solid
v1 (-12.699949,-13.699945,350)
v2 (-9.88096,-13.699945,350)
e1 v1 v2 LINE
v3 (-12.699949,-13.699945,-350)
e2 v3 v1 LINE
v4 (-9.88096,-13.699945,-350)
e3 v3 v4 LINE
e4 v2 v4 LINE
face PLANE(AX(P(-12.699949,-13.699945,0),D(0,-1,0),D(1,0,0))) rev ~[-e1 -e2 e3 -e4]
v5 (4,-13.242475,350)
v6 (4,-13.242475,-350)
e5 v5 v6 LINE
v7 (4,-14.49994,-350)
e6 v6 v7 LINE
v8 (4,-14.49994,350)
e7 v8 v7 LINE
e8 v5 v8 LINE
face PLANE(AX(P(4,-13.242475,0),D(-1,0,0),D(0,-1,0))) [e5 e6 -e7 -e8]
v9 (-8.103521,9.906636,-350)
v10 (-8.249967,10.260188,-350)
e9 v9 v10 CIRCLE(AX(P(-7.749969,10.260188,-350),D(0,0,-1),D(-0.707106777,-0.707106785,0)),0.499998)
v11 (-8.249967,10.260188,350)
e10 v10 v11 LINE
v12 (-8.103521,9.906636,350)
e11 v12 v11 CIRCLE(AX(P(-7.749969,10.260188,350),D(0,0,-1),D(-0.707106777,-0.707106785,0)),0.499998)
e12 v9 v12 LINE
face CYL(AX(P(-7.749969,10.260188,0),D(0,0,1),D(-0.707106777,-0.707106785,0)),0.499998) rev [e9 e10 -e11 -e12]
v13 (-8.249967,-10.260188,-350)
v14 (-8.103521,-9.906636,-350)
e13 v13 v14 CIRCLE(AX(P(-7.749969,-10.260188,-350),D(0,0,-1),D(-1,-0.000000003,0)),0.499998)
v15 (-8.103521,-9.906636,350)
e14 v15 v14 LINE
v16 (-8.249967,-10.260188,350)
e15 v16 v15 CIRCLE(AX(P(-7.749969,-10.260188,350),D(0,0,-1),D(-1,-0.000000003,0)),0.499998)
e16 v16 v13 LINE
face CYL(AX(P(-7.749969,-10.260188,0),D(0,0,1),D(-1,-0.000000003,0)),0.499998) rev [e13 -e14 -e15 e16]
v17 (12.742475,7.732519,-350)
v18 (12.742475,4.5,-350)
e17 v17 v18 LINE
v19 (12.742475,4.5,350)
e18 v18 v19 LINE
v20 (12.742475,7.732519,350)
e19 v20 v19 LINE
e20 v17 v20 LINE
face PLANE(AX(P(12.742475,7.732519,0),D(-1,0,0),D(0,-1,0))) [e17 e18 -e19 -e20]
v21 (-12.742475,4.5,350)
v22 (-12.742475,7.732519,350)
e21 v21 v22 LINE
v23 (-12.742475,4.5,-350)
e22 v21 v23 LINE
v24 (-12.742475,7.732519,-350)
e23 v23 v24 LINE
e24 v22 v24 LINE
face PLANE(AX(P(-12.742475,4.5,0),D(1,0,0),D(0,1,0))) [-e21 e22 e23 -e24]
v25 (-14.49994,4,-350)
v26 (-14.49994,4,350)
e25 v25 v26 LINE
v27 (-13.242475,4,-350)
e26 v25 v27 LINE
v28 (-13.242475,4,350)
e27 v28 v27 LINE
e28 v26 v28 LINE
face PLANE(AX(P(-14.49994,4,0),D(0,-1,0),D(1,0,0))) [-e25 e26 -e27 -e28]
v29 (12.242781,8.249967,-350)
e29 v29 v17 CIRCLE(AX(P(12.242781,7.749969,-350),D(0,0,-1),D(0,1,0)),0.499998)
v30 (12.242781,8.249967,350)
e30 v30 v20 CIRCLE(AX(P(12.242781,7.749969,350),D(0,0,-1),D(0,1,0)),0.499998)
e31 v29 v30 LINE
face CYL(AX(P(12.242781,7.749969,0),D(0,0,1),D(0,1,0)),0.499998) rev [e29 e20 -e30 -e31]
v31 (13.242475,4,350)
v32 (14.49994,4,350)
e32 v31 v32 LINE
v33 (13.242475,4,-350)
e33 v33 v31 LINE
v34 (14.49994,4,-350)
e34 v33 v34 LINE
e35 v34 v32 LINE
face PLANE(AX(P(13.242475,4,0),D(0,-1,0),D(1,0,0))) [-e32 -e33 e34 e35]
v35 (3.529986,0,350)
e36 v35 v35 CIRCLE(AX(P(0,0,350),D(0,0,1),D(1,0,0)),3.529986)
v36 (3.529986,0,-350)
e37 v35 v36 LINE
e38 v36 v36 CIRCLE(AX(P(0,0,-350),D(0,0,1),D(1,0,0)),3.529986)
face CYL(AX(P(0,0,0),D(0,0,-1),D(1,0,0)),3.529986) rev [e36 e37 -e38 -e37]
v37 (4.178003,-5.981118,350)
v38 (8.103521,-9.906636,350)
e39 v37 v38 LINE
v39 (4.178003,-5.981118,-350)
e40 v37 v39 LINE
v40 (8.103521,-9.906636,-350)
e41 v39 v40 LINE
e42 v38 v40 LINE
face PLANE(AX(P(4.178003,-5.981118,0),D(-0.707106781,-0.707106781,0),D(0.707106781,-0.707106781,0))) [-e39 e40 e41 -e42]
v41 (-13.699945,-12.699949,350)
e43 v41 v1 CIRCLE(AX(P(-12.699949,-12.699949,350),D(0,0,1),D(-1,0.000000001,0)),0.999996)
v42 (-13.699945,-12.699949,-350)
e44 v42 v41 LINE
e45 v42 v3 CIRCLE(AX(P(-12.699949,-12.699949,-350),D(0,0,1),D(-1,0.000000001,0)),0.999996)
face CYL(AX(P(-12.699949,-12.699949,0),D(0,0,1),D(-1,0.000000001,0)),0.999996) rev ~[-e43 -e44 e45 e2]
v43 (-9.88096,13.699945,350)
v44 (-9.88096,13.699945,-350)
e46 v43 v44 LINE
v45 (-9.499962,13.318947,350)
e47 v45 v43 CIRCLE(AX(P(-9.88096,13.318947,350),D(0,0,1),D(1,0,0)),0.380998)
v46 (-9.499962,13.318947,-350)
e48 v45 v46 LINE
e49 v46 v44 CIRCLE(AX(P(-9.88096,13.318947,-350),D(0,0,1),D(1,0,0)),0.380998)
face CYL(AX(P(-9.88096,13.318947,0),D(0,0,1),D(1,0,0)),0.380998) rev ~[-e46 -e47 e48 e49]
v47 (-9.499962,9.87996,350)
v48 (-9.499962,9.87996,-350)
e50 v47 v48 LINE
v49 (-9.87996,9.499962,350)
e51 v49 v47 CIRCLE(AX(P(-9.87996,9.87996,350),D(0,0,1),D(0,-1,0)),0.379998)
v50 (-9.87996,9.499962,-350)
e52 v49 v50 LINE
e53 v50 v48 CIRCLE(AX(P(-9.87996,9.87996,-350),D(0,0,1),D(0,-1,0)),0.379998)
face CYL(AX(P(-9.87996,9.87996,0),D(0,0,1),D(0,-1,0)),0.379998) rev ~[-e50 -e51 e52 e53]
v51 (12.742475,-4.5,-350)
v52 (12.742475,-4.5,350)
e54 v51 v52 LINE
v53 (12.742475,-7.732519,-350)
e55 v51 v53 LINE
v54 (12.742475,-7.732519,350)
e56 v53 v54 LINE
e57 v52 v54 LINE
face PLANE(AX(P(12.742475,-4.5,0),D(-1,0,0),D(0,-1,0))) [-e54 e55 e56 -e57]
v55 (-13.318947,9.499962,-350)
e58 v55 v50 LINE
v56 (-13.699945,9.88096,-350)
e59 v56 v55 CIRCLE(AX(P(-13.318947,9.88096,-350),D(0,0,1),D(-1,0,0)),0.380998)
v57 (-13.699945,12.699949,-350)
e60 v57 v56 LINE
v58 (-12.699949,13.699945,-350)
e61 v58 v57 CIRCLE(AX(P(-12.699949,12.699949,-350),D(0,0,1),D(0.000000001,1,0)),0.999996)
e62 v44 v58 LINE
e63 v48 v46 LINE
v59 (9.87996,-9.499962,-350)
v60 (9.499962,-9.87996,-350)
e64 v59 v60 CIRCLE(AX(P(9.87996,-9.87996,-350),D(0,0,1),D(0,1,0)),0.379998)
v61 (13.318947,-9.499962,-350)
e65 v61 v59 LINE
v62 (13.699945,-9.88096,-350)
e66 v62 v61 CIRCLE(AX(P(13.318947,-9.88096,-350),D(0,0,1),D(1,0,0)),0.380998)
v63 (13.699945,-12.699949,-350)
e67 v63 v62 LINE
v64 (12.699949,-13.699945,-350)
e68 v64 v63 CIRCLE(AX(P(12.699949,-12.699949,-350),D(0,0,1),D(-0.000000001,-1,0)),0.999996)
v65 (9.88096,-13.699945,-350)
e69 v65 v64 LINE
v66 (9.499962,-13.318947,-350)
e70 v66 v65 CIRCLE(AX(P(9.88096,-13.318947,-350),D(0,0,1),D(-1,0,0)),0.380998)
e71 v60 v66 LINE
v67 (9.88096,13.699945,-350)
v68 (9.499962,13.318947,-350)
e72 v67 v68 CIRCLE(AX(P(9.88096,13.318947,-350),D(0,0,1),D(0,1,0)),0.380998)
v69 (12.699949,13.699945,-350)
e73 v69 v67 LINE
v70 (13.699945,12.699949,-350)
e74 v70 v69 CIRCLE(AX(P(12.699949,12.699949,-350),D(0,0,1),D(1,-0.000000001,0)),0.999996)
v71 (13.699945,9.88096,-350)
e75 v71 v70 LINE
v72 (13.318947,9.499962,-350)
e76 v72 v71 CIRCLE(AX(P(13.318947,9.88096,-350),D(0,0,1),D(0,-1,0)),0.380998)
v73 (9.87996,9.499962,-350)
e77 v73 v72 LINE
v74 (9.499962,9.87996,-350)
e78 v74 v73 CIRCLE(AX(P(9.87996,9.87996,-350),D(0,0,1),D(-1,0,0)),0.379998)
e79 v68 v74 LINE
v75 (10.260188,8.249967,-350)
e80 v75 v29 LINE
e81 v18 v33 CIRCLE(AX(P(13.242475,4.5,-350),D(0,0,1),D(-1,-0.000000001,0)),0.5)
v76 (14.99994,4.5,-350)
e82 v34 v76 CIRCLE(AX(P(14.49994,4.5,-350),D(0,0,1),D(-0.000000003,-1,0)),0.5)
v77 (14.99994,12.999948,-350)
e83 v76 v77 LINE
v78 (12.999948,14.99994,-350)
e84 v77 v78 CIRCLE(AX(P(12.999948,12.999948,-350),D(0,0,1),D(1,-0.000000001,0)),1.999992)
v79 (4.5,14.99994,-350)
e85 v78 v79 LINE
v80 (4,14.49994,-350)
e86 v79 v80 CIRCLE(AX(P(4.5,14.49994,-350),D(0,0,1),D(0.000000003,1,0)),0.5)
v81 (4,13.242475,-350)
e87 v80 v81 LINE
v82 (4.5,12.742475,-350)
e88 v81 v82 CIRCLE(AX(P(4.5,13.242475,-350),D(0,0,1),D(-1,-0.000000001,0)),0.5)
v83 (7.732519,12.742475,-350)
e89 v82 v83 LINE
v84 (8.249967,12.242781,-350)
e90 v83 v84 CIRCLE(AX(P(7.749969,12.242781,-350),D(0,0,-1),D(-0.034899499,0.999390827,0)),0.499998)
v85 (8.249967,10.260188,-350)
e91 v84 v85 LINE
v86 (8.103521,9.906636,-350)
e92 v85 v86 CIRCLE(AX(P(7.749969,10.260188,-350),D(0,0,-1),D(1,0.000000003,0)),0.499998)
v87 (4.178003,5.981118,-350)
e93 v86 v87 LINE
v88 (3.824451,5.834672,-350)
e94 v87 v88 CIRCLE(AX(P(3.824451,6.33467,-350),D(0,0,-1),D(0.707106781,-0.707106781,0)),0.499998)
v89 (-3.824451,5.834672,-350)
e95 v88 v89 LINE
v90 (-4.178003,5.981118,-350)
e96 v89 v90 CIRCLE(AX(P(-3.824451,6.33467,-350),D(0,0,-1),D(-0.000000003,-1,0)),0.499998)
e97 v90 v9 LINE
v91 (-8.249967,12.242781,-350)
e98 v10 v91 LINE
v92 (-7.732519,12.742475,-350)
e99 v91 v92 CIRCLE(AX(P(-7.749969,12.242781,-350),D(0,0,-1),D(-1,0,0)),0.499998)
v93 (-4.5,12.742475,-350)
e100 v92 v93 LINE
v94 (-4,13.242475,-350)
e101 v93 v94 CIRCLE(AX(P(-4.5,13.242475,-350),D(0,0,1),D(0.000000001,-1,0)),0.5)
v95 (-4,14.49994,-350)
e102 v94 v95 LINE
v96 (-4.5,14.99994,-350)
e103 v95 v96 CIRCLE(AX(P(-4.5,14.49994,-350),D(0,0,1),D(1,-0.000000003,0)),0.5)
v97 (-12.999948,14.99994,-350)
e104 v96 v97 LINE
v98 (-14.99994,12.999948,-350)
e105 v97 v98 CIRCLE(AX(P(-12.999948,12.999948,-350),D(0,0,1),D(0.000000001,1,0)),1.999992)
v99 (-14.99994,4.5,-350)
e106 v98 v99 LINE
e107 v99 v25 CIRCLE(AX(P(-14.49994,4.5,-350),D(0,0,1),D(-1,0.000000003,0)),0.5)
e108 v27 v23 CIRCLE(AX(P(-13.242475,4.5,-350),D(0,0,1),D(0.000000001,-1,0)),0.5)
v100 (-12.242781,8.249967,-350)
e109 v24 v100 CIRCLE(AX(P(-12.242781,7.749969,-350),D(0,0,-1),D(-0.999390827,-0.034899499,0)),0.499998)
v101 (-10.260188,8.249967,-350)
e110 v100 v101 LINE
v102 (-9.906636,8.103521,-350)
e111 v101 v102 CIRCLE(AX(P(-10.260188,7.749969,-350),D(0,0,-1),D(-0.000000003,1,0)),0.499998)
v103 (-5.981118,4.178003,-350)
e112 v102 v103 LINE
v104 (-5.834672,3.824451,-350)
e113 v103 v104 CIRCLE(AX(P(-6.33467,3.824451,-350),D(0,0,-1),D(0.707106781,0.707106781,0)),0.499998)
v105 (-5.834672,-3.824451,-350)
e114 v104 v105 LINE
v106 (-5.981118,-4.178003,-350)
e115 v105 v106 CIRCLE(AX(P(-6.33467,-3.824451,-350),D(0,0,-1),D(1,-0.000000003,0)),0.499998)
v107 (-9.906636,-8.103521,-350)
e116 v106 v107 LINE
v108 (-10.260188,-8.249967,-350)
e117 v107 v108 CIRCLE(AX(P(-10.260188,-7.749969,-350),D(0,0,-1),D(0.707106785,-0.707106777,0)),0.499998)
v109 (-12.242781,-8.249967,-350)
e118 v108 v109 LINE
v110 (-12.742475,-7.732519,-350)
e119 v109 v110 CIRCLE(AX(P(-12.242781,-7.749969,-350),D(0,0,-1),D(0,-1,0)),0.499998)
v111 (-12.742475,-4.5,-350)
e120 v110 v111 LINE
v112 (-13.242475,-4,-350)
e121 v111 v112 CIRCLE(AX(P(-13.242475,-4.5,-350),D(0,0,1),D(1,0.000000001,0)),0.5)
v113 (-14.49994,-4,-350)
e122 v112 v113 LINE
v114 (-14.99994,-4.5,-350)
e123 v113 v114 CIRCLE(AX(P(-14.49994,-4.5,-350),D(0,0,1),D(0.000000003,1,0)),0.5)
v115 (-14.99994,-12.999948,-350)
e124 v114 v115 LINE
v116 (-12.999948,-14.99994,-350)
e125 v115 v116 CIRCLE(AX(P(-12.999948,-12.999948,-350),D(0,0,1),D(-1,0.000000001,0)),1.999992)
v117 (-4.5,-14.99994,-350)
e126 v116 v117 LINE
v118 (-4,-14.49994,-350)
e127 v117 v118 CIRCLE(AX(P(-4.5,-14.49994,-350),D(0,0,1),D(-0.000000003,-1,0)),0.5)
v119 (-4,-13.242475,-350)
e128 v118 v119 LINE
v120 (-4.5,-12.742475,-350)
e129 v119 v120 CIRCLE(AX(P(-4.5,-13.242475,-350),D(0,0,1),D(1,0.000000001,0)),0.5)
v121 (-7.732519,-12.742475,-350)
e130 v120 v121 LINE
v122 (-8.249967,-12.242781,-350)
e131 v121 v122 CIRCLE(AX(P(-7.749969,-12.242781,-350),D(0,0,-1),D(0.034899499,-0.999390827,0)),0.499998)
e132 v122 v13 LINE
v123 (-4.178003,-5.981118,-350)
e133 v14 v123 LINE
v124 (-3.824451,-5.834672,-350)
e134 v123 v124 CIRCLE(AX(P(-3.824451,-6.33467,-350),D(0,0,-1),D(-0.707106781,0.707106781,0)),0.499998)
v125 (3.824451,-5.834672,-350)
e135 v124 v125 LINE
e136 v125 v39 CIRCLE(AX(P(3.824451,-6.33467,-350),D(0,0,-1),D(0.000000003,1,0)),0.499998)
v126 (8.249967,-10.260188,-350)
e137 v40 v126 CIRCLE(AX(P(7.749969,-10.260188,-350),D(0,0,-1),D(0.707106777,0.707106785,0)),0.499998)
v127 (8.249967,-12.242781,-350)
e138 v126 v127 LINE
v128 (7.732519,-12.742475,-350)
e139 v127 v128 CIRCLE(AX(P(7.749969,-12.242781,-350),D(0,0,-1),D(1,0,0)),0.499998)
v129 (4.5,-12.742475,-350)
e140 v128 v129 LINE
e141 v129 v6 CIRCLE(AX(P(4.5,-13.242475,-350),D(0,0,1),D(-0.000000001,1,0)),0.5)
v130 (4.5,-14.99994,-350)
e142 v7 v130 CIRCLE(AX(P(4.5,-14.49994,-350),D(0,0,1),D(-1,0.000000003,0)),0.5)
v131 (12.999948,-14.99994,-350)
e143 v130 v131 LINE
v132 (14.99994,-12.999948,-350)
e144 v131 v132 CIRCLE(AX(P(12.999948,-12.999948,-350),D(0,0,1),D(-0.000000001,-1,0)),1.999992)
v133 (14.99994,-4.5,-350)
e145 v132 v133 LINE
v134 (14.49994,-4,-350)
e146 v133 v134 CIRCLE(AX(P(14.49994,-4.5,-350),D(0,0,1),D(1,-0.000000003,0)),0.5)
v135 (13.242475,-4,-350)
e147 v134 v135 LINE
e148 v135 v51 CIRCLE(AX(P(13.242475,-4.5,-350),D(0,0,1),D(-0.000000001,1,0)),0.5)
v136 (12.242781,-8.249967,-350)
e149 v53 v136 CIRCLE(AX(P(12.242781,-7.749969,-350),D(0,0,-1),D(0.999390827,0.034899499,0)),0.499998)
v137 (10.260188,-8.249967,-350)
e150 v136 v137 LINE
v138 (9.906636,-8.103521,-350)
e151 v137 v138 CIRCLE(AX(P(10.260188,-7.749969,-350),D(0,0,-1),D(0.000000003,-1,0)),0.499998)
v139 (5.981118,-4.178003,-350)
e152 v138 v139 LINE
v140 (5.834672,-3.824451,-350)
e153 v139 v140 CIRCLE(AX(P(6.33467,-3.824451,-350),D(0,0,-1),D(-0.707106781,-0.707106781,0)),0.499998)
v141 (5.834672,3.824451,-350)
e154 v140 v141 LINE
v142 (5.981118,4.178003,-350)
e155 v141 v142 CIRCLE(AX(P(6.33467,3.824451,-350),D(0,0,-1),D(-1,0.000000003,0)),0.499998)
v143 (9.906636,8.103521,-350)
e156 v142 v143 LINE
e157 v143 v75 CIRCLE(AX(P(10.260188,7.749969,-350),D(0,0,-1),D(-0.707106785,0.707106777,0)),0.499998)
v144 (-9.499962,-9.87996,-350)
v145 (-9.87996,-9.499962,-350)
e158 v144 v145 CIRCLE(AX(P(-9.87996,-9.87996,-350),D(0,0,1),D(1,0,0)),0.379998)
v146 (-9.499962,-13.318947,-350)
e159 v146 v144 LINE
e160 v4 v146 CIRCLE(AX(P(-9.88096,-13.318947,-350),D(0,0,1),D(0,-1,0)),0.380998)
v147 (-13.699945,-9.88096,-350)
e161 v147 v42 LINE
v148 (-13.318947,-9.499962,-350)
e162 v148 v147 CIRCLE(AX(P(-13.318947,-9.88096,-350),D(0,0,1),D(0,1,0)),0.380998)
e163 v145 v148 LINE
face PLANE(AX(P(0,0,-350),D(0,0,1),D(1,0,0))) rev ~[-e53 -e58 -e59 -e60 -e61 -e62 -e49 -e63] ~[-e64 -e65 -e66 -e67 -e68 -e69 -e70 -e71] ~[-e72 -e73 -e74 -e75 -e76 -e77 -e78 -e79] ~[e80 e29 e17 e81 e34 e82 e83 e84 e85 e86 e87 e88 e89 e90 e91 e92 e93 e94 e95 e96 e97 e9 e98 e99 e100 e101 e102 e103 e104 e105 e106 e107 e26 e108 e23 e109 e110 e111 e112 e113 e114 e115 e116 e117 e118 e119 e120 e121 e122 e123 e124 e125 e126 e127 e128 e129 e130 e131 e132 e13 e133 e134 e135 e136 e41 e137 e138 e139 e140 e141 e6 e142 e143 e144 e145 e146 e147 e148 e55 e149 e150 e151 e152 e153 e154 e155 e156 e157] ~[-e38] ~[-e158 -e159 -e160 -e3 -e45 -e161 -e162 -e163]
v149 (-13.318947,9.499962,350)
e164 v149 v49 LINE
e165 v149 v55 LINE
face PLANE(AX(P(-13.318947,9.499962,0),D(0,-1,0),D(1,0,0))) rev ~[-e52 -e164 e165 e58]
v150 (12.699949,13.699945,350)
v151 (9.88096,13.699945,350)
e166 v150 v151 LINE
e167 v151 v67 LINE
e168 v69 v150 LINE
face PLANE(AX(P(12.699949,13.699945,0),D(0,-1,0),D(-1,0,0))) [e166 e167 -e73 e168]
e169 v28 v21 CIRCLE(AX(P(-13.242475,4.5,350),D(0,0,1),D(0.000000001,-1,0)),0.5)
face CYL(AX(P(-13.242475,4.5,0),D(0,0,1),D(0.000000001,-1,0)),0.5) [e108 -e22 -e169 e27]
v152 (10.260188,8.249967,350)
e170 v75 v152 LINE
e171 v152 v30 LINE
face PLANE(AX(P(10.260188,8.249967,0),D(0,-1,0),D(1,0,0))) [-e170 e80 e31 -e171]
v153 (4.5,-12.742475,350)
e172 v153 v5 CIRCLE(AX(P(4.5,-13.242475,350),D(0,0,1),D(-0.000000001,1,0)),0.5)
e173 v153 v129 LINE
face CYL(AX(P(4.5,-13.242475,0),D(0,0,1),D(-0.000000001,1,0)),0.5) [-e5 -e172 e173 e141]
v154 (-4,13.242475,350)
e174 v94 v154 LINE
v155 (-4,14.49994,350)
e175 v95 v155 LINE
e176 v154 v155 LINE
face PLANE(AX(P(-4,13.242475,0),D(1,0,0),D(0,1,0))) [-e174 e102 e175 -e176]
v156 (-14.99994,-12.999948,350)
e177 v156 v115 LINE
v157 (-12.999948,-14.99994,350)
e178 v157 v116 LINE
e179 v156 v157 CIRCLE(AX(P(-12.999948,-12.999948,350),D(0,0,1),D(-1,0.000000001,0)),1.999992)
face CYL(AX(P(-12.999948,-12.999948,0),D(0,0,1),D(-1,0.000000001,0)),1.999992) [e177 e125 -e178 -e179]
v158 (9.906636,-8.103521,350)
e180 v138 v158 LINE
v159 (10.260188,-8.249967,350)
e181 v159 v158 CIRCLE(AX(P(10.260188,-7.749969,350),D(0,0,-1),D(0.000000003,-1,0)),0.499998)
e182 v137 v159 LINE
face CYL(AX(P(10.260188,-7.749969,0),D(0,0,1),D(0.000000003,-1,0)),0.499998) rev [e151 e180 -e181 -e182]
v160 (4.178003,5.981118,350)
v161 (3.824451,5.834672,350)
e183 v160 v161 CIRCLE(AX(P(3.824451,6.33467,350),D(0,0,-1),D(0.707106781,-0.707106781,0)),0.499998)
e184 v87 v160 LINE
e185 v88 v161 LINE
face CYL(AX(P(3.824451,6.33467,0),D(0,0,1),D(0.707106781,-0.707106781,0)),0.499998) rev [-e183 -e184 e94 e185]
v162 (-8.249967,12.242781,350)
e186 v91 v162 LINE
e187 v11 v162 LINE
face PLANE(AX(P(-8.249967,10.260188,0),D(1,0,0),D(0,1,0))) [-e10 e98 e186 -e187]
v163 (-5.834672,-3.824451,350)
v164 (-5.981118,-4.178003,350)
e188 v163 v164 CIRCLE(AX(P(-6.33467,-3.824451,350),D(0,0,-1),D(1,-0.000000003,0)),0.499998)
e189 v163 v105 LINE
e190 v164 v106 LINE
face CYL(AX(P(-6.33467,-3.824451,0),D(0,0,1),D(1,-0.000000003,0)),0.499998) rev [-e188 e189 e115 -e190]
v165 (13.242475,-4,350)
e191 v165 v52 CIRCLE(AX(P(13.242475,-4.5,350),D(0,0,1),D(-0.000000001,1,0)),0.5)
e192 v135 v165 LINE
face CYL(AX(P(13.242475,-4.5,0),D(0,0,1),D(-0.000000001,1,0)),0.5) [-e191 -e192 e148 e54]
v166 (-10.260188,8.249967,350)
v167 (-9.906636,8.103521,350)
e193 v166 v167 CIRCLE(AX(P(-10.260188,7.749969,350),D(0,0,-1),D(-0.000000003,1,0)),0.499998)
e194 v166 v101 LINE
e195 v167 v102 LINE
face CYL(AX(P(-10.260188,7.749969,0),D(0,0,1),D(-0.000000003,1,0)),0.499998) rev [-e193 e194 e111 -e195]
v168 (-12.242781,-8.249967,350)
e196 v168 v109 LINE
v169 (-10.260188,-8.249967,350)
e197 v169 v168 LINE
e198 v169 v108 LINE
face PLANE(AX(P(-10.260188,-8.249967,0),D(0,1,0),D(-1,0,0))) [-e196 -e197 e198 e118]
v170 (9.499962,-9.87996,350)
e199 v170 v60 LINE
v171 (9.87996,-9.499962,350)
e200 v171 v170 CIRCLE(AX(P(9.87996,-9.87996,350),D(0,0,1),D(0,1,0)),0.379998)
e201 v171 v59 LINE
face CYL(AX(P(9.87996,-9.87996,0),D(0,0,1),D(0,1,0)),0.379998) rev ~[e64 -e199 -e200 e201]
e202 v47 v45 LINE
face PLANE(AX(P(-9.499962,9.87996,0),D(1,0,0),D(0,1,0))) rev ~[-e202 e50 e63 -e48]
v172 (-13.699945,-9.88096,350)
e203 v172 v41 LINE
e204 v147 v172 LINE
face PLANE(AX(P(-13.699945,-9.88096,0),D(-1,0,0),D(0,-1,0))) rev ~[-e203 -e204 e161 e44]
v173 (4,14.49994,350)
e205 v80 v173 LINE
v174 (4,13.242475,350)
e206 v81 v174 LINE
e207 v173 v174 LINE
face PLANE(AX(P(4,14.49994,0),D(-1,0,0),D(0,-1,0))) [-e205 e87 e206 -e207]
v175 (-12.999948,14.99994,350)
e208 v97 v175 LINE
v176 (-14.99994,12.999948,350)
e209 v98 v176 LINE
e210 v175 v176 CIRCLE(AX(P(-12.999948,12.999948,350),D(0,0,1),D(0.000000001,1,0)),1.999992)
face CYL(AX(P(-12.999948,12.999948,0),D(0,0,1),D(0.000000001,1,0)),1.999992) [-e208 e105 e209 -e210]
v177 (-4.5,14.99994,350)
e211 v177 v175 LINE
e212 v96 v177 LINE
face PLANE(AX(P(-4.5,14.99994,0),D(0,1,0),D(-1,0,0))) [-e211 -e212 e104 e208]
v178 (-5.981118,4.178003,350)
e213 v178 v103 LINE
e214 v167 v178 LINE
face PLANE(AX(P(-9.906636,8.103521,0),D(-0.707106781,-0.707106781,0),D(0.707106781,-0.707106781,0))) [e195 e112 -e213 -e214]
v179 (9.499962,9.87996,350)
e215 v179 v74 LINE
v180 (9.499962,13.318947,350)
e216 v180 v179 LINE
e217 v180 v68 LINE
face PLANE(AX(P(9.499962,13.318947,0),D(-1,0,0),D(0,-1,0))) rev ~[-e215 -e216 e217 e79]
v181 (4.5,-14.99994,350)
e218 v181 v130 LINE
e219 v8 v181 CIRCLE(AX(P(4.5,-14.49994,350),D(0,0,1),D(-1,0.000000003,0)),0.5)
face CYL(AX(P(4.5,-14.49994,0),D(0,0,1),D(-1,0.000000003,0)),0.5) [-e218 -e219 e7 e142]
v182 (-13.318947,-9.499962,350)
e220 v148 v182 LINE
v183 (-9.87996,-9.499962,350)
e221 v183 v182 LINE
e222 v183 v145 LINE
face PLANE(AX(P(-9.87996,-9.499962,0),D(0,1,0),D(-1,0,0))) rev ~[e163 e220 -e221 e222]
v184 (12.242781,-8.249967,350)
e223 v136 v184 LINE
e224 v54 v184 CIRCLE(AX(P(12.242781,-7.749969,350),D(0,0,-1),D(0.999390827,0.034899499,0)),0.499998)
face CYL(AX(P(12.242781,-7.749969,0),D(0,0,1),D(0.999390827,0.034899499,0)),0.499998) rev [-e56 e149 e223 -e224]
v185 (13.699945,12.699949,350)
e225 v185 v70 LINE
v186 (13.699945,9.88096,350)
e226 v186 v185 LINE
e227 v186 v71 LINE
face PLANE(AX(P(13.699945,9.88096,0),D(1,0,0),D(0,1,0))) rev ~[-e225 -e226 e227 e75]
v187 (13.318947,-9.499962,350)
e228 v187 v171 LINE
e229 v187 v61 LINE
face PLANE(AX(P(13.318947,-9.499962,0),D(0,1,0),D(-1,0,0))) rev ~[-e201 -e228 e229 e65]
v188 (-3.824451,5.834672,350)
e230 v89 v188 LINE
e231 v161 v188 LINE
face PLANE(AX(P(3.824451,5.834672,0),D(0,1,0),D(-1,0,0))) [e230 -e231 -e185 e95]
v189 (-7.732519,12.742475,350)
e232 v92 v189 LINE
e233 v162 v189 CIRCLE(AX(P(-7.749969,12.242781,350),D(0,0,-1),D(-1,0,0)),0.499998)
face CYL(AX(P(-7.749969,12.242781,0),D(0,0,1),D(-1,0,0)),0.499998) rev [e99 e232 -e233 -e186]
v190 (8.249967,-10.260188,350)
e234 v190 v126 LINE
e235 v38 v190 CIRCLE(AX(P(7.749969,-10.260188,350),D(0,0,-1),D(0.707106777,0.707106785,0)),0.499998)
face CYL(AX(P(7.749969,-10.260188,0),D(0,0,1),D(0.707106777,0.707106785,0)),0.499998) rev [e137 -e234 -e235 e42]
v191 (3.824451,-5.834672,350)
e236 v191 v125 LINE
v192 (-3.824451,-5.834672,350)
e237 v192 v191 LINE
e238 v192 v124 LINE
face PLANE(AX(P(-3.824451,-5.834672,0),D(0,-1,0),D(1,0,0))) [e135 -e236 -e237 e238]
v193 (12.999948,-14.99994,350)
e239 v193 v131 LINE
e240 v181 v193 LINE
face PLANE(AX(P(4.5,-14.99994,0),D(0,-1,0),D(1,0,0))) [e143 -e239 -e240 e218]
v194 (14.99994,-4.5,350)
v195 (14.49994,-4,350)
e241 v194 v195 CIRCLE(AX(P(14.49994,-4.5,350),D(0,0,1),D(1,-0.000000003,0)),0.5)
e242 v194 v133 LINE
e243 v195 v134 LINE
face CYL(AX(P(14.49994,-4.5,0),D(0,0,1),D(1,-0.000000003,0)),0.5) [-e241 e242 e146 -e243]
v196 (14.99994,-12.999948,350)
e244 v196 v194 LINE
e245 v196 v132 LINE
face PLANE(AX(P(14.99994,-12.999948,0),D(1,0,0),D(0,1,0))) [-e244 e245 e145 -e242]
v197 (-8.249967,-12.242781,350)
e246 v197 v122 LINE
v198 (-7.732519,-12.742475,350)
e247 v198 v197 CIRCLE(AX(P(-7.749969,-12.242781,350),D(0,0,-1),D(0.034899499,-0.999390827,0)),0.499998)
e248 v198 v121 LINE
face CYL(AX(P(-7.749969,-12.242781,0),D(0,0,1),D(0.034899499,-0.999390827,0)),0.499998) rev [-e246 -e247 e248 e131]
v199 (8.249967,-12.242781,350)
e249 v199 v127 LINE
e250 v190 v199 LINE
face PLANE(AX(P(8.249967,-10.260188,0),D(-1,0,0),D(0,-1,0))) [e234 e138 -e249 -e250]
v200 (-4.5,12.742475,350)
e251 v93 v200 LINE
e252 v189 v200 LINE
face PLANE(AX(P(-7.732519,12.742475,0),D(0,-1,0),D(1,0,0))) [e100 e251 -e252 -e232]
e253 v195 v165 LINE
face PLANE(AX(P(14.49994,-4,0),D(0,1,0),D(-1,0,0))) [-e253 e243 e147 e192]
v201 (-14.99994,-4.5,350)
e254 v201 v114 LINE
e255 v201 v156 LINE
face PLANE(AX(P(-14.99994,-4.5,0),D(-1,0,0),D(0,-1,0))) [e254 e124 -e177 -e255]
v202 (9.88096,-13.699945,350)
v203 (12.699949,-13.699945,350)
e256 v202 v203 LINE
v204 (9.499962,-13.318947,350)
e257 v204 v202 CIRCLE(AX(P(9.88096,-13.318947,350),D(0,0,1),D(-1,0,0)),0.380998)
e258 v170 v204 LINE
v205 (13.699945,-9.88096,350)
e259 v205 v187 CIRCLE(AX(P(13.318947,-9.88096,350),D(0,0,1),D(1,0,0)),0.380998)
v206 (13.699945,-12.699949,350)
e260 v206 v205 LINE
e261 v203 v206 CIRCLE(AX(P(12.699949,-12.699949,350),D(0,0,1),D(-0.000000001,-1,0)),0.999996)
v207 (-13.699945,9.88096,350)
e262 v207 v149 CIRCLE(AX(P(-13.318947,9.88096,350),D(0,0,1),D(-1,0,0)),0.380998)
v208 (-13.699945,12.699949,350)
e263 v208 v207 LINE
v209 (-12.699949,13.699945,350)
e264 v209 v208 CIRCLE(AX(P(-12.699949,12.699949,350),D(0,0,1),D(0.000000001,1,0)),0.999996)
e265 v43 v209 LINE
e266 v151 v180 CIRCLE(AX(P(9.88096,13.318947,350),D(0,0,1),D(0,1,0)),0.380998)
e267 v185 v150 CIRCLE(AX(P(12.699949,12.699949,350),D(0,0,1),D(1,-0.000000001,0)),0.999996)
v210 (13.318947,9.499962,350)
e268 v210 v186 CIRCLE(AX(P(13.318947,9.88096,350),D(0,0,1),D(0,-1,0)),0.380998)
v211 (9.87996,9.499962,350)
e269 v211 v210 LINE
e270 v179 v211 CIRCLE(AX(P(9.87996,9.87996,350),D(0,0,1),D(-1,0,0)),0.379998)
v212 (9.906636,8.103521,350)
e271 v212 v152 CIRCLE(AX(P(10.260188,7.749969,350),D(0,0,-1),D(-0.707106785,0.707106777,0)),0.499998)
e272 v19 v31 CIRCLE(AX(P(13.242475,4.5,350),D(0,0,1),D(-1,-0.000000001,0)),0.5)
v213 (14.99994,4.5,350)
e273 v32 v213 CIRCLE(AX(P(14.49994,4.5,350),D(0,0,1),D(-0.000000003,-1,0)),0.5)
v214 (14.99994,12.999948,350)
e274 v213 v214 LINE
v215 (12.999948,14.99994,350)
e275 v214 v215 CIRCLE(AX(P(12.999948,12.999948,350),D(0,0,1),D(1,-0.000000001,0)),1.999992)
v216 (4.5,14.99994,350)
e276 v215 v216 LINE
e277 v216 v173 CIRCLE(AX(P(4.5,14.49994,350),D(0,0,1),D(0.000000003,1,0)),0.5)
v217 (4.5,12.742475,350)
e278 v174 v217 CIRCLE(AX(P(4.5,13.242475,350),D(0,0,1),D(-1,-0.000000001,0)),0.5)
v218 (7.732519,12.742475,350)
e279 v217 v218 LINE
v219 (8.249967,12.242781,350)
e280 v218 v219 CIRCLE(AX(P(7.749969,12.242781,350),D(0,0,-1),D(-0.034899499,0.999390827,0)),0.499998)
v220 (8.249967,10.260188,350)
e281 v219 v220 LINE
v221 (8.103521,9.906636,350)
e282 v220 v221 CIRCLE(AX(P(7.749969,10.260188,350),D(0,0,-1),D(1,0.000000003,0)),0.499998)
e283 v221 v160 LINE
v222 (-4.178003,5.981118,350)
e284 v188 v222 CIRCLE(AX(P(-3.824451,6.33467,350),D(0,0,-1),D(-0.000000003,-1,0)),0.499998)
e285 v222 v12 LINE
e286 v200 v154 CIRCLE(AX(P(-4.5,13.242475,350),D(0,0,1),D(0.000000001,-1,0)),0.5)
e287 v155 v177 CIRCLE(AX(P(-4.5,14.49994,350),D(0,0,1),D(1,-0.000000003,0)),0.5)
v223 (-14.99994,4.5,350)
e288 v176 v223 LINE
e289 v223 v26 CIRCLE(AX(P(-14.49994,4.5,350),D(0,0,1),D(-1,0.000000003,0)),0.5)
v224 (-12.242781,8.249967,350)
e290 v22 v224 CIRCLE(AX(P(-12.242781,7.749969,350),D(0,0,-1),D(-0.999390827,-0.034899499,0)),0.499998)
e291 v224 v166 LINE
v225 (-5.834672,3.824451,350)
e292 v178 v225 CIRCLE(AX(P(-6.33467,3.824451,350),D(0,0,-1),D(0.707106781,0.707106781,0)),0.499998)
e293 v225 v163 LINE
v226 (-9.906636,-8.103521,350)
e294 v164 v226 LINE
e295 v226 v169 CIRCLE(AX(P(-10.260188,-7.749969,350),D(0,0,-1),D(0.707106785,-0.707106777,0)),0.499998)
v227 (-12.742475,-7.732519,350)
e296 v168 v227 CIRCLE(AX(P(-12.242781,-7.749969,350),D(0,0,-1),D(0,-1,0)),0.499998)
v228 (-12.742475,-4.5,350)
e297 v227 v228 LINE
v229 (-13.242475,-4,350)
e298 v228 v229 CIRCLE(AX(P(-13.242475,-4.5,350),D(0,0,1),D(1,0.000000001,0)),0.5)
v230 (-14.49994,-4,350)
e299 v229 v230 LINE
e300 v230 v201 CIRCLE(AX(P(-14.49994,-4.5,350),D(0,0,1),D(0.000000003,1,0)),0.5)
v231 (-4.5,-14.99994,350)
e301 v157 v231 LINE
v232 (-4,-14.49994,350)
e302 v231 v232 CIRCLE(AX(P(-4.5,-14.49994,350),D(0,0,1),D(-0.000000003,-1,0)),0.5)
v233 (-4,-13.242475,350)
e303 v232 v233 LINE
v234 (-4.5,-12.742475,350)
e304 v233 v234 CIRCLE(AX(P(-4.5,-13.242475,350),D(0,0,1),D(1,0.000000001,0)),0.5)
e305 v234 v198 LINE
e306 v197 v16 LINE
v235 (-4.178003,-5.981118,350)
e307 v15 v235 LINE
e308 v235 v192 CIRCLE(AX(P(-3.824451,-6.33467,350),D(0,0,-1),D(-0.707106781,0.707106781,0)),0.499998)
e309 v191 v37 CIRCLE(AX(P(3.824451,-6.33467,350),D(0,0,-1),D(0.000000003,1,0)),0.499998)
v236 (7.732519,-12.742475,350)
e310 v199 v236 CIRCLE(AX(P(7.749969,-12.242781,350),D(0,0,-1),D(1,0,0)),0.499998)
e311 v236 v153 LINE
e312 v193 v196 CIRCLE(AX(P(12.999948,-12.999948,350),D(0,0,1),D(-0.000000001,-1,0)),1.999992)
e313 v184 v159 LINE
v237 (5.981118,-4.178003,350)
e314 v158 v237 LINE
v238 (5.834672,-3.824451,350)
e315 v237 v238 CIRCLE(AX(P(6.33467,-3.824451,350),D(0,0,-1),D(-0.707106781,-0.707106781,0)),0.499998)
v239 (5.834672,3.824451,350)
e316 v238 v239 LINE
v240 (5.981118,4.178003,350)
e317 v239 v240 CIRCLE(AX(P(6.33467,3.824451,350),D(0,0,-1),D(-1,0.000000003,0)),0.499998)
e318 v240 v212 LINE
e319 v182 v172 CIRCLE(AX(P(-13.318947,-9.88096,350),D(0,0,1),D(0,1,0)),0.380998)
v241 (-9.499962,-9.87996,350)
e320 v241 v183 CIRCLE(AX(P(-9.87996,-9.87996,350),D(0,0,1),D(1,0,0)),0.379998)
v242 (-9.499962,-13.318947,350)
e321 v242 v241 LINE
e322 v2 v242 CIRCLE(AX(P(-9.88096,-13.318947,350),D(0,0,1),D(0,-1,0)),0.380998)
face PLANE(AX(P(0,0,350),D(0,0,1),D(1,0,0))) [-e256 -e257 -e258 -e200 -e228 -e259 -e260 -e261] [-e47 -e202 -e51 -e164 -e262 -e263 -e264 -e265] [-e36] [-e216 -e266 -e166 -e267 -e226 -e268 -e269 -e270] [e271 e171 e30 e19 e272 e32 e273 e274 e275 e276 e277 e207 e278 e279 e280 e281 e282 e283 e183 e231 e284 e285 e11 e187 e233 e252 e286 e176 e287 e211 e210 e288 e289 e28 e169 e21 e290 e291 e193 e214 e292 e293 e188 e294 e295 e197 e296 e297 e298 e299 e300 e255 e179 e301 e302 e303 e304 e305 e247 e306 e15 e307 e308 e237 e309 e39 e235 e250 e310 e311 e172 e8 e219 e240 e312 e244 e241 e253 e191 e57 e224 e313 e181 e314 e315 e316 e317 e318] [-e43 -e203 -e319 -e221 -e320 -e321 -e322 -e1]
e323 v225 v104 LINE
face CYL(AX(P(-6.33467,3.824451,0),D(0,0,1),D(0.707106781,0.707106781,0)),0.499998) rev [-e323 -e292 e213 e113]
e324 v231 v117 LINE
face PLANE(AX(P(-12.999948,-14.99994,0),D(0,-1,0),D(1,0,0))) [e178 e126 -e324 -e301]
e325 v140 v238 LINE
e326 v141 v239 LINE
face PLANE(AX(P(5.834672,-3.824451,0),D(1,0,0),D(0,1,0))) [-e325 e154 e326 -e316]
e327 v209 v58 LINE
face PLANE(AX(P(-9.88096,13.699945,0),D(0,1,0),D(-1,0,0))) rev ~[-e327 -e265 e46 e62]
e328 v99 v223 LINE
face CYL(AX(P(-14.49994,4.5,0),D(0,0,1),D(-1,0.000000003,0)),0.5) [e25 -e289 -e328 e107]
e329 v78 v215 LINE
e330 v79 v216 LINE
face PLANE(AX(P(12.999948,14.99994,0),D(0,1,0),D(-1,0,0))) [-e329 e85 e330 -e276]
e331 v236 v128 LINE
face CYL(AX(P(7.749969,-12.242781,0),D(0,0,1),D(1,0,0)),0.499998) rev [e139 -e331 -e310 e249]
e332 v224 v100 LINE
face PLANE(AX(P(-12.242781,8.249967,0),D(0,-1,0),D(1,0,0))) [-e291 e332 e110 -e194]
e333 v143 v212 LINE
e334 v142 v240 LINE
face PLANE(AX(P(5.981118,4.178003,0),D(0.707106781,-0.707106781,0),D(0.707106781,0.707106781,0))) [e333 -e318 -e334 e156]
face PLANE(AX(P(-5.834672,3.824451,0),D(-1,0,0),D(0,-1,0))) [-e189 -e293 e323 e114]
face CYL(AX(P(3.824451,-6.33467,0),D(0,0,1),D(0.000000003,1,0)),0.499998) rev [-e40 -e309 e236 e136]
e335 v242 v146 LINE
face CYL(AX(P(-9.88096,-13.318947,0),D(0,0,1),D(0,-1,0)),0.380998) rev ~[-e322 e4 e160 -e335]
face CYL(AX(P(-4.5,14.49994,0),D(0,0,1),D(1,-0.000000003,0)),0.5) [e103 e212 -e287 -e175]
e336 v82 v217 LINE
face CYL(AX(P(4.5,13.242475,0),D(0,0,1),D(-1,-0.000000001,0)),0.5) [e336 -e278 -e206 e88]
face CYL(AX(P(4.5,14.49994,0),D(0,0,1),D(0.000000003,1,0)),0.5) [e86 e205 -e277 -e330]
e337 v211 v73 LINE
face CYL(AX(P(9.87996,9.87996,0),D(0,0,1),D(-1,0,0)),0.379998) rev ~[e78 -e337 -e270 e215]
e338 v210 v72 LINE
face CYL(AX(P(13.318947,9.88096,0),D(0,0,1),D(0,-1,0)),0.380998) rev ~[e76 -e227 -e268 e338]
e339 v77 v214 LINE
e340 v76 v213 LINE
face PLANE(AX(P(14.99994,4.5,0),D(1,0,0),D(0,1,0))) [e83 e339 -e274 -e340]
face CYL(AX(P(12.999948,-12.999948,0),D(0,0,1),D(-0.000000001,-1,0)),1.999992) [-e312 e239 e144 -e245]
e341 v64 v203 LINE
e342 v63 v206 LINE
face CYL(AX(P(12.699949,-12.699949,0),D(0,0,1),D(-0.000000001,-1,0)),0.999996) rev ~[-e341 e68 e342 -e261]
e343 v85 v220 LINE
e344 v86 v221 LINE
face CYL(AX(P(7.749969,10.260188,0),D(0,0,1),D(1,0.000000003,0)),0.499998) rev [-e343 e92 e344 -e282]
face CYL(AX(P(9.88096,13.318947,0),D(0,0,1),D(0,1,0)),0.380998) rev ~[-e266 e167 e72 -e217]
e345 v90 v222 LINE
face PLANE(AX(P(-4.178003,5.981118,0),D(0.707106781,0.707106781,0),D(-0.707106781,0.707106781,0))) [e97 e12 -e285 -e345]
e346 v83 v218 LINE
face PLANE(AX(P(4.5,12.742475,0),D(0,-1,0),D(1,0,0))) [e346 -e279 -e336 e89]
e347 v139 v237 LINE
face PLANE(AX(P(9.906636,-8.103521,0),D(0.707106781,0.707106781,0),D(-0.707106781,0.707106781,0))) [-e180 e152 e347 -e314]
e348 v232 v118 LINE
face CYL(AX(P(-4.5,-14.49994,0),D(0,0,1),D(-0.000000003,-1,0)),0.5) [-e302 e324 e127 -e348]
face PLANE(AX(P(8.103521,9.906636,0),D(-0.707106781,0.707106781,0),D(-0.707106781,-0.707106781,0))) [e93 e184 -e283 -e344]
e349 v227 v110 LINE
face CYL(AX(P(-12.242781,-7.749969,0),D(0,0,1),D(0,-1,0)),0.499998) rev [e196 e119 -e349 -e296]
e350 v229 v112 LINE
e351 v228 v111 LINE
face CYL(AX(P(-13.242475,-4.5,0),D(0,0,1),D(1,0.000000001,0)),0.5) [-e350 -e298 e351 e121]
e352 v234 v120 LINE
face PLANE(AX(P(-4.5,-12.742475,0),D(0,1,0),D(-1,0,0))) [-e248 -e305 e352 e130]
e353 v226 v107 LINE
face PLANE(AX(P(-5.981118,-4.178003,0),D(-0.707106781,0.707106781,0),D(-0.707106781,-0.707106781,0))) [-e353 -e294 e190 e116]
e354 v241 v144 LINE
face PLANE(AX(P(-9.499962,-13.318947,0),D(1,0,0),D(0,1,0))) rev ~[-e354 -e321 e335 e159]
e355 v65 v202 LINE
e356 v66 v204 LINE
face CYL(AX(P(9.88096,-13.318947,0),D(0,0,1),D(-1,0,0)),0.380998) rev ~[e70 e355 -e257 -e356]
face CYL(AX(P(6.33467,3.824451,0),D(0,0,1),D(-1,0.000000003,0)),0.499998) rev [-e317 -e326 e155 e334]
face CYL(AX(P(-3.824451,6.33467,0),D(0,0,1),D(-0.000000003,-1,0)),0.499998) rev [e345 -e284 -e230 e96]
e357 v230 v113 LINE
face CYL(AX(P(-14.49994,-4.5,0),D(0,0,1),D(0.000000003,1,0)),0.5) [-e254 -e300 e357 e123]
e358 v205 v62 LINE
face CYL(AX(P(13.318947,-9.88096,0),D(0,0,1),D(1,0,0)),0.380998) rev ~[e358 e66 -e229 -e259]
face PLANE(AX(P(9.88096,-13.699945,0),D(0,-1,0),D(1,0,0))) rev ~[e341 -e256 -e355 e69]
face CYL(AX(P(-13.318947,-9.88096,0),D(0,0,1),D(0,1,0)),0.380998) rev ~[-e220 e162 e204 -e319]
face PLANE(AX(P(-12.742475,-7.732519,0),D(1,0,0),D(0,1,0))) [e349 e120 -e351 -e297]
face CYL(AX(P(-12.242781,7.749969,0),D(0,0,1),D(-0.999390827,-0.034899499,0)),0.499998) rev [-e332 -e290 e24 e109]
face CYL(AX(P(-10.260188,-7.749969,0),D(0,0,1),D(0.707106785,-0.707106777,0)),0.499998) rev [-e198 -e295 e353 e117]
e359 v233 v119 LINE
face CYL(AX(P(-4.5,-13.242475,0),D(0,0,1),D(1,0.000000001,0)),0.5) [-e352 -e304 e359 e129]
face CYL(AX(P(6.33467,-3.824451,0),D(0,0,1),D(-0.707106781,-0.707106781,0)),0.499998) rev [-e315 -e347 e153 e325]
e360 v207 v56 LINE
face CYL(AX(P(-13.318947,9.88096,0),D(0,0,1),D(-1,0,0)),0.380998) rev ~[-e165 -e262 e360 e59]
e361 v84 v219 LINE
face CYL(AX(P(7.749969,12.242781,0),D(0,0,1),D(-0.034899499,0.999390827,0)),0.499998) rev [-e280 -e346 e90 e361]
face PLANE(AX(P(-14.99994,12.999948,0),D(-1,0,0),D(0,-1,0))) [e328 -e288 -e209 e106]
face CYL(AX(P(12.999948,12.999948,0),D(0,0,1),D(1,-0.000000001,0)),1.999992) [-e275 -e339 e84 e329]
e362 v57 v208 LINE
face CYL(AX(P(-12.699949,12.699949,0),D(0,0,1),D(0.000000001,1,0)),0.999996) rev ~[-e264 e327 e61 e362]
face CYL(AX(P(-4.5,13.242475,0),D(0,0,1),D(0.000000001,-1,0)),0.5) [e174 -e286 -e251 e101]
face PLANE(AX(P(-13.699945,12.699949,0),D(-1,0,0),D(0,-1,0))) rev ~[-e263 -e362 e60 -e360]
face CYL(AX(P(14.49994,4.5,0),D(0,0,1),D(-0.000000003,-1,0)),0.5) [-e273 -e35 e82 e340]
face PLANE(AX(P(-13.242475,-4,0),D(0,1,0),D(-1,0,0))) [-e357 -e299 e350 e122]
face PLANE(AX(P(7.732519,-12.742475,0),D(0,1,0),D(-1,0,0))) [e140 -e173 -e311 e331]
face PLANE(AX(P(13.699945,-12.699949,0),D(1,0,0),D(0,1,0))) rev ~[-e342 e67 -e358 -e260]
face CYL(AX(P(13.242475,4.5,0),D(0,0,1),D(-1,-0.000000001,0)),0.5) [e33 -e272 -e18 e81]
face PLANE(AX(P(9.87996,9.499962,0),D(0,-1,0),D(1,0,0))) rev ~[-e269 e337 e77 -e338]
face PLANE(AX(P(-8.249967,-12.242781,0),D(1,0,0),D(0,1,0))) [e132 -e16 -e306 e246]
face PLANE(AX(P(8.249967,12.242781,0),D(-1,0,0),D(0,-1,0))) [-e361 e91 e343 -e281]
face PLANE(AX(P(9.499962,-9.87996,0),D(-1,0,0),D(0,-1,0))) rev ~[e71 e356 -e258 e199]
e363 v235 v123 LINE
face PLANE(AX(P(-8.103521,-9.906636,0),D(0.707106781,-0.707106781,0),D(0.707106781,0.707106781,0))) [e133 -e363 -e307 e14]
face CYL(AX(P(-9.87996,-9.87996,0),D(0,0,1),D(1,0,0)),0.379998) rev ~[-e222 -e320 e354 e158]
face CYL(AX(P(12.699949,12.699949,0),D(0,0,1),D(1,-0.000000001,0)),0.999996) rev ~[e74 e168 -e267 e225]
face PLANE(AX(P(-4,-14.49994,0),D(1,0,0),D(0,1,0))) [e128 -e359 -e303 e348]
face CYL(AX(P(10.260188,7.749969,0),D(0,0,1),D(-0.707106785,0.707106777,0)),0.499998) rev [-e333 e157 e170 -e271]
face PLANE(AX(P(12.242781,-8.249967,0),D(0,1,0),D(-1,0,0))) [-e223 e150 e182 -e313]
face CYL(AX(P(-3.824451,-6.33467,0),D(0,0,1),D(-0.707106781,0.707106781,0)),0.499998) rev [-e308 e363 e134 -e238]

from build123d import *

# Parameters (mm, degrees)
SKETCH1_R           = 3.52998588
BOSS_EXTRUDE1_DEPTH = 350


with BuildPart() as part:
    # Sketch1 → Boss-Extrude1 (new, symmetric)
    with BuildSketch(Plane.XY):
        with BuildLine():
            Line((14.49994, -4), (13.24247465, -4))
            ThreePointArc((13.24247465, -4), (12.88892126, -4.146446609), (12.74247465, -4.5))
            Line((12.74247465, -4.5), (12.74247465, -7.732519321))
            ThreePointArc((12.74247465, -7.732519321), (12.602449697, -8.097296796), (12.242781236, -8.249967))
            Line((12.242781236, -8.249967), (10.260188032, -8.249967))
            ThreePointArc((10.260188032, -8.249967), (10.068847082, -8.211906919), (9.906636056, -8.103520976))
            Line((9.906636056, -8.103520976), (5.981117769, -4.178002689))
            ThreePointArc((5.981117769, -4.178002689), (5.872731827, -4.015791664), (5.834671745, -3.824450713))
            Line((5.834671745, -3.824450713), (5.834671745, -1.01249595))
            Line((5.834671745, -1.01249595), (5.834671745, 0.88749645))
            Line((5.834671745, 0.88749645), (5.834671745, 3.824450713))
            ThreePointArc((5.834671745, 3.824450713), (5.872731827, 4.015791664), (5.981117769, 4.178002689))
            Line((5.981117769, 4.178002689), (9.906636056, 8.103520976))
            ThreePointArc((9.906636056, 8.103520976), (10.068847082, 8.211906919), (10.260188032, 8.249967))
            Line((10.260188032, 8.249967), (12.242781236, 8.249967))
            ThreePointArc((12.242781236, 8.249967), (12.602449697, 8.097296796), (12.74247465, 7.732519321))
            Line((12.74247465, 7.732519321), (12.74247465, 4.5))
            ThreePointArc((12.74247465, 4.5), (12.88892126, 4.146446609), (13.24247465, 4))
            Line((13.24247465, 4), (14.49994, 4))
            ThreePointArc((14.49994, 4), (14.853493391, 4.146446609), (14.99994, 4.5))
            Line((14.99994, 4.5), (14.99994, 12.999948))
            ThreePointArc((14.99994, 12.999948), (14.414155906, 14.414155906), (12.999948, 14.99994))
            Line((12.999948, 14.99994), (4.5, 14.99994))
            ThreePointArc((4.5, 14.99994), (4.146446609, 14.853493391), (4, 14.49994))
            Line((4, 14.49994), (4, 13.24247465))
            ThreePointArc((4, 13.24247465), (4.146446609, 12.88892126), (4.5, 12.74247465))
            Line((4.5, 12.74247465), (7.732519321, 12.74247465))
            ThreePointArc((7.732519321, 12.74247465), (8.097296796, 12.602449697), (8.249967, 12.242781236))
            Line((8.249967, 12.242781236), (8.249967, 10.260188032))
            ThreePointArc((8.249967, 10.260188032), (8.211906919, 10.068847082), (8.103520976, 9.906636056))
            Line((8.103520976, 9.906636056), (4.178002689, 5.981117769))
            ThreePointArc((4.178002689, 5.981117769), (4.015791664, 5.872731827), (3.824450713, 5.834671745))
            Line((3.824450713, 5.834671745), (0.9499962, 5.834671745))
            Line((0.9499962, 5.834671745), (-0.9499962, 5.834671745))
            Line((-0.9499962, 5.834671745), (-3.824450713, 5.834671745))
            ThreePointArc((-3.824450713, 5.834671745), (-4.015791664, 5.872731827), (-4.178002689, 5.981117769))
            Line((-4.178002689, 5.981117769), (-8.103520976, 9.906636056))
            ThreePointArc((-8.103520976, 9.906636056), (-8.211906919, 10.068847082), (-8.249967, 10.260188032))
            Line((-8.249967, 10.260188032), (-8.249967, 12.242781236))
            ThreePointArc((-8.249967, 12.242781236), (-8.097296796, 12.602449697), (-7.732519321, 12.74247465))
            Line((-7.732519321, 12.74247465), (-4.5, 12.74247465))
            ThreePointArc((-4.5, 12.74247465), (-4.146446609, 12.88892126), (-4, 13.24247465))
            Line((-4, 13.24247465), (-4, 14.49994))
            ThreePointArc((-4, 14.49994), (-4.146446609, 14.853493391), (-4.5, 14.99994))
            Line((-4.5, 14.99994), (-12.999948, 14.99994))
            ThreePointArc((-12.999948, 14.99994), (-14.414155906, 14.414155906), (-14.99994, 12.999948))
            Line((-14.99994, 12.999948), (-14.99994, 4.5))
            ThreePointArc((-14.99994, 4.5), (-14.853493391, 4.146446609), (-14.49994, 4))
            Line((-14.49994, 4), (-13.24247465, 4))
            ThreePointArc((-13.24247465, 4), (-12.88892126, 4.146446609), (-12.74247465, 4.5))
            Line((-12.74247465, 4.5), (-12.74247465, 7.732519321))
            ThreePointArc((-12.74247465, 7.732519321), (-12.602449697, 8.097296796), (-12.242781236, 8.249967))
            Line((-12.242781236, 8.249967), (-10.260188032, 8.249967))
            ThreePointArc((-10.260188032, 8.249967), (-10.068847082, 8.211906919), (-9.906636056, 8.103520976))
            Line((-9.906636056, 8.103520976), (-5.981117769, 4.178002689))
            ThreePointArc((-5.981117769, 4.178002689), (-5.872731827, 4.015791664), (-5.834671745, 3.824450713))
            Line((-5.834671745, 3.824450713), (-5.834671745, 0.88749645))
            Line((-5.834671745, 0.88749645), (-5.834671745, -1.01249595))
            Line((-5.834671745, -1.01249595), (-5.834671745, -3.824450713))
            ThreePointArc((-5.834671745, -3.824450713), (-5.872731827, -4.015791664), (-5.981117769, -4.178002689))
            Line((-5.981117769, -4.178002689), (-9.906636056, -8.103520976))
            ThreePointArc((-9.906636056, -8.103520976), (-10.068847082, -8.211906919), (-10.260188032, -8.249967))
            Line((-10.260188032, -8.249967), (-12.242781236, -8.249967))
            ThreePointArc((-12.242781236, -8.249967), (-12.602449697, -8.097296796), (-12.74247465, -7.732519321))
            Line((-12.74247465, -7.732519321), (-12.74247465, -4.5))
            ThreePointArc((-12.74247465, -4.5), (-12.88892126, -4.146446609), (-13.24247465, -4))
            Line((-13.24247465, -4), (-14.49994, -4))
            ThreePointArc((-14.49994, -4), (-14.853493391, -4.146446609), (-14.99994, -4.5))
            Line((-14.99994, -4.5), (-14.99994, -12.999948))
            ThreePointArc((-14.99994, -12.999948), (-14.414155906, -14.414155906), (-12.999948, -14.99994))
            Line((-12.999948, -14.99994), (-4.5, -14.99994))
            ThreePointArc((-4.5, -14.99994), (-4.146446609, -14.853493391), (-4, -14.49994))
            Line((-4, -14.49994), (-4, -13.24247465))
            ThreePointArc((-4, -13.24247465), (-4.146446609, -12.88892126), (-4.5, -12.74247465))
            Line((-4.5, -12.74247465), (-7.732519321, -12.74247465))
            ThreePointArc((-7.732519321, -12.74247465), (-8.097296796, -12.602449697), (-8.249967, -12.242781236))
            Line((-8.249967, -12.242781236), (-8.249967, -10.260188032))
            ThreePointArc((-8.249967, -10.260188032), (-8.211906919, -10.068847082), (-8.103520976, -9.906636056))
            Line((-8.103520976, -9.906636056), (-4.178002689, -5.981117769))
            ThreePointArc((-4.178002689, -5.981117769), (-4.015791664, -5.872731827), (-3.824450713, -5.834671745))
            Line((-3.824450713, -5.834671745), (-0.9499962, -5.834671745))
            Line((-0.9499962, -5.834671745), (0.9499962, -5.834671745))
            Line((0.9499962, -5.834671745), (3.824450713, -5.834671745))
            ThreePointArc((3.824450713, -5.834671745), (4.015791664, -5.872731827), (4.178002689, -5.981117769))
            Line((4.178002689, -5.981117769), (8.103520976, -9.906636056))
            ThreePointArc((8.103520976, -9.906636056), (8.211906919, -10.068847082), (8.249967, -10.260188032))
            Line((8.249967, -10.260188032), (8.249967, -12.242781236))
            ThreePointArc((8.249967, -12.242781236), (8.097296796, -12.602449697), (7.732519321, -12.74247465))
            Line((7.732519321, -12.74247465), (4.5, -12.74247465))
            ThreePointArc((4.5, -12.74247465), (4.146446609, -12.88892126), (4, -13.24247465))
            Line((4, -13.24247465), (4, -14.49994))
            ThreePointArc((4, -14.49994), (4.146446609, -14.853493391), (4.5, -14.99994))
            Line((4.5, -14.99994), (12.999948, -14.99994))
            ThreePointArc((12.999948, -14.99994), (14.414155906, -14.414155906), (14.99994, -12.999948))
            Line((14.99994, -12.999948), (14.99994, -4.5))
            ThreePointArc((14.99994, -4.5), (14.853493391, -4.146446609), (14.49994, -4))
        make_face()
        Circle(SKETCH1_R, mode=Mode.SUBTRACT)
        with BuildLine():
            Line((-12.6999492, -13.6999452), (-9.880960476, -13.6999452))
            ThreePointArc((-9.880960476, -13.6999452), (-9.61155387, -13.58835333), (-9.499962, -13.318946724))
            Line((-9.499962, -13.318946724), (-9.499962, -9.87996048))
            ThreePointArc((-9.499962, -9.87996048), (-9.611260978, -9.611260978), (-9.87996048, -9.499962))
            Line((-9.87996048, -9.499962), (-13.318946724, -9.499962))
            ThreePointArc((-13.318946724, -9.499962), (-13.58835333, -9.61155387), (-13.6999452, -9.880960476))
            Line((-13.6999452, -9.880960476), (-13.6999452, -12.6999492))
            ThreePointArc((-13.6999452, -12.6999492), (-13.407053153, -13.407053153), (-12.6999492, -13.6999452))
        make_face(mode=Mode.SUBTRACT)
        with BuildLine():
            Line((13.6999452, -12.6999492), (13.6999452, -9.880960476))
            ThreePointArc((13.6999452, -9.880960476), (13.58835333, -9.61155387), (13.318946724, -9.499962))
            Line((13.318946724, -9.499962), (9.87996048, -9.499962))
            ThreePointArc((9.87996048, -9.499962), (9.611260978, -9.611260978), (9.499962, -9.87996048))
            Line((9.499962, -9.87996048), (9.499962, -13.318946724))
            ThreePointArc((9.499962, -13.318946724), (9.61155387, -13.58835333), (9.880960476, -13.6999452))
            Line((9.880960476, -13.6999452), (12.6999492, -13.6999452))
            ThreePointArc((12.6999492, -13.6999452), (13.407053153, -13.407053153), (13.6999452, -12.6999492))
        make_face(mode=Mode.SUBTRACT)
        with BuildLine():
            Line((9.87996048, 9.499962), (13.318946724, 9.499962))
            ThreePointArc((13.318946724, 9.499962), (13.58835333, 9.61155387), (13.6999452, 9.880960476))
            Line((13.6999452, 9.880960476), (13.6999452, 12.6999492))
            ThreePointArc((13.6999452, 12.6999492), (13.407053153, 13.407053153), (12.6999492, 13.6999452))
            Line((12.6999492, 13.6999452), (9.880960476, 13.6999452))
            ThreePointArc((9.880960476, 13.6999452), (9.61155387, 13.58835333), (9.499962, 13.318946724))
            Line((9.499962, 13.318946724), (9.499962, 9.87996048))
            ThreePointArc((9.499962, 9.87996048), (9.611260978, 9.611260978), (9.87996048, 9.499962))
        make_face(mode=Mode.SUBTRACT)
        with BuildLine():
            Line((-13.6999452, 12.6999492), (-13.6999452, 9.880960476))
            ThreePointArc((-13.6999452, 9.880960476), (-13.58835333, 9.61155387), (-13.318946724, 9.499962))
            Line((-13.318946724, 9.499962), (-9.87996048, 9.499962))
            ThreePointArc((-9.87996048, 9.499962), (-9.611260978, 9.611260978), (-9.499962, 9.87996048))
            Line((-9.499962, 9.87996048), (-9.499962, 13.318946724))
            ThreePointArc((-9.499962, 13.318946724), (-9.61155387, 13.58835333), (-9.880960476, 13.6999452))
            Line((-9.880960476, 13.6999452), (-12.6999492, 13.6999452))
            ThreePointArc((-12.6999492, 13.6999452), (-13.407053153, 13.407053153), (-13.6999452, 12.6999492))
        make_face(mode=Mode.SUBTRACT)
    extrude(amount=BOSS_EXTRUDE1_DEPTH, both=True)


solid = part.part
